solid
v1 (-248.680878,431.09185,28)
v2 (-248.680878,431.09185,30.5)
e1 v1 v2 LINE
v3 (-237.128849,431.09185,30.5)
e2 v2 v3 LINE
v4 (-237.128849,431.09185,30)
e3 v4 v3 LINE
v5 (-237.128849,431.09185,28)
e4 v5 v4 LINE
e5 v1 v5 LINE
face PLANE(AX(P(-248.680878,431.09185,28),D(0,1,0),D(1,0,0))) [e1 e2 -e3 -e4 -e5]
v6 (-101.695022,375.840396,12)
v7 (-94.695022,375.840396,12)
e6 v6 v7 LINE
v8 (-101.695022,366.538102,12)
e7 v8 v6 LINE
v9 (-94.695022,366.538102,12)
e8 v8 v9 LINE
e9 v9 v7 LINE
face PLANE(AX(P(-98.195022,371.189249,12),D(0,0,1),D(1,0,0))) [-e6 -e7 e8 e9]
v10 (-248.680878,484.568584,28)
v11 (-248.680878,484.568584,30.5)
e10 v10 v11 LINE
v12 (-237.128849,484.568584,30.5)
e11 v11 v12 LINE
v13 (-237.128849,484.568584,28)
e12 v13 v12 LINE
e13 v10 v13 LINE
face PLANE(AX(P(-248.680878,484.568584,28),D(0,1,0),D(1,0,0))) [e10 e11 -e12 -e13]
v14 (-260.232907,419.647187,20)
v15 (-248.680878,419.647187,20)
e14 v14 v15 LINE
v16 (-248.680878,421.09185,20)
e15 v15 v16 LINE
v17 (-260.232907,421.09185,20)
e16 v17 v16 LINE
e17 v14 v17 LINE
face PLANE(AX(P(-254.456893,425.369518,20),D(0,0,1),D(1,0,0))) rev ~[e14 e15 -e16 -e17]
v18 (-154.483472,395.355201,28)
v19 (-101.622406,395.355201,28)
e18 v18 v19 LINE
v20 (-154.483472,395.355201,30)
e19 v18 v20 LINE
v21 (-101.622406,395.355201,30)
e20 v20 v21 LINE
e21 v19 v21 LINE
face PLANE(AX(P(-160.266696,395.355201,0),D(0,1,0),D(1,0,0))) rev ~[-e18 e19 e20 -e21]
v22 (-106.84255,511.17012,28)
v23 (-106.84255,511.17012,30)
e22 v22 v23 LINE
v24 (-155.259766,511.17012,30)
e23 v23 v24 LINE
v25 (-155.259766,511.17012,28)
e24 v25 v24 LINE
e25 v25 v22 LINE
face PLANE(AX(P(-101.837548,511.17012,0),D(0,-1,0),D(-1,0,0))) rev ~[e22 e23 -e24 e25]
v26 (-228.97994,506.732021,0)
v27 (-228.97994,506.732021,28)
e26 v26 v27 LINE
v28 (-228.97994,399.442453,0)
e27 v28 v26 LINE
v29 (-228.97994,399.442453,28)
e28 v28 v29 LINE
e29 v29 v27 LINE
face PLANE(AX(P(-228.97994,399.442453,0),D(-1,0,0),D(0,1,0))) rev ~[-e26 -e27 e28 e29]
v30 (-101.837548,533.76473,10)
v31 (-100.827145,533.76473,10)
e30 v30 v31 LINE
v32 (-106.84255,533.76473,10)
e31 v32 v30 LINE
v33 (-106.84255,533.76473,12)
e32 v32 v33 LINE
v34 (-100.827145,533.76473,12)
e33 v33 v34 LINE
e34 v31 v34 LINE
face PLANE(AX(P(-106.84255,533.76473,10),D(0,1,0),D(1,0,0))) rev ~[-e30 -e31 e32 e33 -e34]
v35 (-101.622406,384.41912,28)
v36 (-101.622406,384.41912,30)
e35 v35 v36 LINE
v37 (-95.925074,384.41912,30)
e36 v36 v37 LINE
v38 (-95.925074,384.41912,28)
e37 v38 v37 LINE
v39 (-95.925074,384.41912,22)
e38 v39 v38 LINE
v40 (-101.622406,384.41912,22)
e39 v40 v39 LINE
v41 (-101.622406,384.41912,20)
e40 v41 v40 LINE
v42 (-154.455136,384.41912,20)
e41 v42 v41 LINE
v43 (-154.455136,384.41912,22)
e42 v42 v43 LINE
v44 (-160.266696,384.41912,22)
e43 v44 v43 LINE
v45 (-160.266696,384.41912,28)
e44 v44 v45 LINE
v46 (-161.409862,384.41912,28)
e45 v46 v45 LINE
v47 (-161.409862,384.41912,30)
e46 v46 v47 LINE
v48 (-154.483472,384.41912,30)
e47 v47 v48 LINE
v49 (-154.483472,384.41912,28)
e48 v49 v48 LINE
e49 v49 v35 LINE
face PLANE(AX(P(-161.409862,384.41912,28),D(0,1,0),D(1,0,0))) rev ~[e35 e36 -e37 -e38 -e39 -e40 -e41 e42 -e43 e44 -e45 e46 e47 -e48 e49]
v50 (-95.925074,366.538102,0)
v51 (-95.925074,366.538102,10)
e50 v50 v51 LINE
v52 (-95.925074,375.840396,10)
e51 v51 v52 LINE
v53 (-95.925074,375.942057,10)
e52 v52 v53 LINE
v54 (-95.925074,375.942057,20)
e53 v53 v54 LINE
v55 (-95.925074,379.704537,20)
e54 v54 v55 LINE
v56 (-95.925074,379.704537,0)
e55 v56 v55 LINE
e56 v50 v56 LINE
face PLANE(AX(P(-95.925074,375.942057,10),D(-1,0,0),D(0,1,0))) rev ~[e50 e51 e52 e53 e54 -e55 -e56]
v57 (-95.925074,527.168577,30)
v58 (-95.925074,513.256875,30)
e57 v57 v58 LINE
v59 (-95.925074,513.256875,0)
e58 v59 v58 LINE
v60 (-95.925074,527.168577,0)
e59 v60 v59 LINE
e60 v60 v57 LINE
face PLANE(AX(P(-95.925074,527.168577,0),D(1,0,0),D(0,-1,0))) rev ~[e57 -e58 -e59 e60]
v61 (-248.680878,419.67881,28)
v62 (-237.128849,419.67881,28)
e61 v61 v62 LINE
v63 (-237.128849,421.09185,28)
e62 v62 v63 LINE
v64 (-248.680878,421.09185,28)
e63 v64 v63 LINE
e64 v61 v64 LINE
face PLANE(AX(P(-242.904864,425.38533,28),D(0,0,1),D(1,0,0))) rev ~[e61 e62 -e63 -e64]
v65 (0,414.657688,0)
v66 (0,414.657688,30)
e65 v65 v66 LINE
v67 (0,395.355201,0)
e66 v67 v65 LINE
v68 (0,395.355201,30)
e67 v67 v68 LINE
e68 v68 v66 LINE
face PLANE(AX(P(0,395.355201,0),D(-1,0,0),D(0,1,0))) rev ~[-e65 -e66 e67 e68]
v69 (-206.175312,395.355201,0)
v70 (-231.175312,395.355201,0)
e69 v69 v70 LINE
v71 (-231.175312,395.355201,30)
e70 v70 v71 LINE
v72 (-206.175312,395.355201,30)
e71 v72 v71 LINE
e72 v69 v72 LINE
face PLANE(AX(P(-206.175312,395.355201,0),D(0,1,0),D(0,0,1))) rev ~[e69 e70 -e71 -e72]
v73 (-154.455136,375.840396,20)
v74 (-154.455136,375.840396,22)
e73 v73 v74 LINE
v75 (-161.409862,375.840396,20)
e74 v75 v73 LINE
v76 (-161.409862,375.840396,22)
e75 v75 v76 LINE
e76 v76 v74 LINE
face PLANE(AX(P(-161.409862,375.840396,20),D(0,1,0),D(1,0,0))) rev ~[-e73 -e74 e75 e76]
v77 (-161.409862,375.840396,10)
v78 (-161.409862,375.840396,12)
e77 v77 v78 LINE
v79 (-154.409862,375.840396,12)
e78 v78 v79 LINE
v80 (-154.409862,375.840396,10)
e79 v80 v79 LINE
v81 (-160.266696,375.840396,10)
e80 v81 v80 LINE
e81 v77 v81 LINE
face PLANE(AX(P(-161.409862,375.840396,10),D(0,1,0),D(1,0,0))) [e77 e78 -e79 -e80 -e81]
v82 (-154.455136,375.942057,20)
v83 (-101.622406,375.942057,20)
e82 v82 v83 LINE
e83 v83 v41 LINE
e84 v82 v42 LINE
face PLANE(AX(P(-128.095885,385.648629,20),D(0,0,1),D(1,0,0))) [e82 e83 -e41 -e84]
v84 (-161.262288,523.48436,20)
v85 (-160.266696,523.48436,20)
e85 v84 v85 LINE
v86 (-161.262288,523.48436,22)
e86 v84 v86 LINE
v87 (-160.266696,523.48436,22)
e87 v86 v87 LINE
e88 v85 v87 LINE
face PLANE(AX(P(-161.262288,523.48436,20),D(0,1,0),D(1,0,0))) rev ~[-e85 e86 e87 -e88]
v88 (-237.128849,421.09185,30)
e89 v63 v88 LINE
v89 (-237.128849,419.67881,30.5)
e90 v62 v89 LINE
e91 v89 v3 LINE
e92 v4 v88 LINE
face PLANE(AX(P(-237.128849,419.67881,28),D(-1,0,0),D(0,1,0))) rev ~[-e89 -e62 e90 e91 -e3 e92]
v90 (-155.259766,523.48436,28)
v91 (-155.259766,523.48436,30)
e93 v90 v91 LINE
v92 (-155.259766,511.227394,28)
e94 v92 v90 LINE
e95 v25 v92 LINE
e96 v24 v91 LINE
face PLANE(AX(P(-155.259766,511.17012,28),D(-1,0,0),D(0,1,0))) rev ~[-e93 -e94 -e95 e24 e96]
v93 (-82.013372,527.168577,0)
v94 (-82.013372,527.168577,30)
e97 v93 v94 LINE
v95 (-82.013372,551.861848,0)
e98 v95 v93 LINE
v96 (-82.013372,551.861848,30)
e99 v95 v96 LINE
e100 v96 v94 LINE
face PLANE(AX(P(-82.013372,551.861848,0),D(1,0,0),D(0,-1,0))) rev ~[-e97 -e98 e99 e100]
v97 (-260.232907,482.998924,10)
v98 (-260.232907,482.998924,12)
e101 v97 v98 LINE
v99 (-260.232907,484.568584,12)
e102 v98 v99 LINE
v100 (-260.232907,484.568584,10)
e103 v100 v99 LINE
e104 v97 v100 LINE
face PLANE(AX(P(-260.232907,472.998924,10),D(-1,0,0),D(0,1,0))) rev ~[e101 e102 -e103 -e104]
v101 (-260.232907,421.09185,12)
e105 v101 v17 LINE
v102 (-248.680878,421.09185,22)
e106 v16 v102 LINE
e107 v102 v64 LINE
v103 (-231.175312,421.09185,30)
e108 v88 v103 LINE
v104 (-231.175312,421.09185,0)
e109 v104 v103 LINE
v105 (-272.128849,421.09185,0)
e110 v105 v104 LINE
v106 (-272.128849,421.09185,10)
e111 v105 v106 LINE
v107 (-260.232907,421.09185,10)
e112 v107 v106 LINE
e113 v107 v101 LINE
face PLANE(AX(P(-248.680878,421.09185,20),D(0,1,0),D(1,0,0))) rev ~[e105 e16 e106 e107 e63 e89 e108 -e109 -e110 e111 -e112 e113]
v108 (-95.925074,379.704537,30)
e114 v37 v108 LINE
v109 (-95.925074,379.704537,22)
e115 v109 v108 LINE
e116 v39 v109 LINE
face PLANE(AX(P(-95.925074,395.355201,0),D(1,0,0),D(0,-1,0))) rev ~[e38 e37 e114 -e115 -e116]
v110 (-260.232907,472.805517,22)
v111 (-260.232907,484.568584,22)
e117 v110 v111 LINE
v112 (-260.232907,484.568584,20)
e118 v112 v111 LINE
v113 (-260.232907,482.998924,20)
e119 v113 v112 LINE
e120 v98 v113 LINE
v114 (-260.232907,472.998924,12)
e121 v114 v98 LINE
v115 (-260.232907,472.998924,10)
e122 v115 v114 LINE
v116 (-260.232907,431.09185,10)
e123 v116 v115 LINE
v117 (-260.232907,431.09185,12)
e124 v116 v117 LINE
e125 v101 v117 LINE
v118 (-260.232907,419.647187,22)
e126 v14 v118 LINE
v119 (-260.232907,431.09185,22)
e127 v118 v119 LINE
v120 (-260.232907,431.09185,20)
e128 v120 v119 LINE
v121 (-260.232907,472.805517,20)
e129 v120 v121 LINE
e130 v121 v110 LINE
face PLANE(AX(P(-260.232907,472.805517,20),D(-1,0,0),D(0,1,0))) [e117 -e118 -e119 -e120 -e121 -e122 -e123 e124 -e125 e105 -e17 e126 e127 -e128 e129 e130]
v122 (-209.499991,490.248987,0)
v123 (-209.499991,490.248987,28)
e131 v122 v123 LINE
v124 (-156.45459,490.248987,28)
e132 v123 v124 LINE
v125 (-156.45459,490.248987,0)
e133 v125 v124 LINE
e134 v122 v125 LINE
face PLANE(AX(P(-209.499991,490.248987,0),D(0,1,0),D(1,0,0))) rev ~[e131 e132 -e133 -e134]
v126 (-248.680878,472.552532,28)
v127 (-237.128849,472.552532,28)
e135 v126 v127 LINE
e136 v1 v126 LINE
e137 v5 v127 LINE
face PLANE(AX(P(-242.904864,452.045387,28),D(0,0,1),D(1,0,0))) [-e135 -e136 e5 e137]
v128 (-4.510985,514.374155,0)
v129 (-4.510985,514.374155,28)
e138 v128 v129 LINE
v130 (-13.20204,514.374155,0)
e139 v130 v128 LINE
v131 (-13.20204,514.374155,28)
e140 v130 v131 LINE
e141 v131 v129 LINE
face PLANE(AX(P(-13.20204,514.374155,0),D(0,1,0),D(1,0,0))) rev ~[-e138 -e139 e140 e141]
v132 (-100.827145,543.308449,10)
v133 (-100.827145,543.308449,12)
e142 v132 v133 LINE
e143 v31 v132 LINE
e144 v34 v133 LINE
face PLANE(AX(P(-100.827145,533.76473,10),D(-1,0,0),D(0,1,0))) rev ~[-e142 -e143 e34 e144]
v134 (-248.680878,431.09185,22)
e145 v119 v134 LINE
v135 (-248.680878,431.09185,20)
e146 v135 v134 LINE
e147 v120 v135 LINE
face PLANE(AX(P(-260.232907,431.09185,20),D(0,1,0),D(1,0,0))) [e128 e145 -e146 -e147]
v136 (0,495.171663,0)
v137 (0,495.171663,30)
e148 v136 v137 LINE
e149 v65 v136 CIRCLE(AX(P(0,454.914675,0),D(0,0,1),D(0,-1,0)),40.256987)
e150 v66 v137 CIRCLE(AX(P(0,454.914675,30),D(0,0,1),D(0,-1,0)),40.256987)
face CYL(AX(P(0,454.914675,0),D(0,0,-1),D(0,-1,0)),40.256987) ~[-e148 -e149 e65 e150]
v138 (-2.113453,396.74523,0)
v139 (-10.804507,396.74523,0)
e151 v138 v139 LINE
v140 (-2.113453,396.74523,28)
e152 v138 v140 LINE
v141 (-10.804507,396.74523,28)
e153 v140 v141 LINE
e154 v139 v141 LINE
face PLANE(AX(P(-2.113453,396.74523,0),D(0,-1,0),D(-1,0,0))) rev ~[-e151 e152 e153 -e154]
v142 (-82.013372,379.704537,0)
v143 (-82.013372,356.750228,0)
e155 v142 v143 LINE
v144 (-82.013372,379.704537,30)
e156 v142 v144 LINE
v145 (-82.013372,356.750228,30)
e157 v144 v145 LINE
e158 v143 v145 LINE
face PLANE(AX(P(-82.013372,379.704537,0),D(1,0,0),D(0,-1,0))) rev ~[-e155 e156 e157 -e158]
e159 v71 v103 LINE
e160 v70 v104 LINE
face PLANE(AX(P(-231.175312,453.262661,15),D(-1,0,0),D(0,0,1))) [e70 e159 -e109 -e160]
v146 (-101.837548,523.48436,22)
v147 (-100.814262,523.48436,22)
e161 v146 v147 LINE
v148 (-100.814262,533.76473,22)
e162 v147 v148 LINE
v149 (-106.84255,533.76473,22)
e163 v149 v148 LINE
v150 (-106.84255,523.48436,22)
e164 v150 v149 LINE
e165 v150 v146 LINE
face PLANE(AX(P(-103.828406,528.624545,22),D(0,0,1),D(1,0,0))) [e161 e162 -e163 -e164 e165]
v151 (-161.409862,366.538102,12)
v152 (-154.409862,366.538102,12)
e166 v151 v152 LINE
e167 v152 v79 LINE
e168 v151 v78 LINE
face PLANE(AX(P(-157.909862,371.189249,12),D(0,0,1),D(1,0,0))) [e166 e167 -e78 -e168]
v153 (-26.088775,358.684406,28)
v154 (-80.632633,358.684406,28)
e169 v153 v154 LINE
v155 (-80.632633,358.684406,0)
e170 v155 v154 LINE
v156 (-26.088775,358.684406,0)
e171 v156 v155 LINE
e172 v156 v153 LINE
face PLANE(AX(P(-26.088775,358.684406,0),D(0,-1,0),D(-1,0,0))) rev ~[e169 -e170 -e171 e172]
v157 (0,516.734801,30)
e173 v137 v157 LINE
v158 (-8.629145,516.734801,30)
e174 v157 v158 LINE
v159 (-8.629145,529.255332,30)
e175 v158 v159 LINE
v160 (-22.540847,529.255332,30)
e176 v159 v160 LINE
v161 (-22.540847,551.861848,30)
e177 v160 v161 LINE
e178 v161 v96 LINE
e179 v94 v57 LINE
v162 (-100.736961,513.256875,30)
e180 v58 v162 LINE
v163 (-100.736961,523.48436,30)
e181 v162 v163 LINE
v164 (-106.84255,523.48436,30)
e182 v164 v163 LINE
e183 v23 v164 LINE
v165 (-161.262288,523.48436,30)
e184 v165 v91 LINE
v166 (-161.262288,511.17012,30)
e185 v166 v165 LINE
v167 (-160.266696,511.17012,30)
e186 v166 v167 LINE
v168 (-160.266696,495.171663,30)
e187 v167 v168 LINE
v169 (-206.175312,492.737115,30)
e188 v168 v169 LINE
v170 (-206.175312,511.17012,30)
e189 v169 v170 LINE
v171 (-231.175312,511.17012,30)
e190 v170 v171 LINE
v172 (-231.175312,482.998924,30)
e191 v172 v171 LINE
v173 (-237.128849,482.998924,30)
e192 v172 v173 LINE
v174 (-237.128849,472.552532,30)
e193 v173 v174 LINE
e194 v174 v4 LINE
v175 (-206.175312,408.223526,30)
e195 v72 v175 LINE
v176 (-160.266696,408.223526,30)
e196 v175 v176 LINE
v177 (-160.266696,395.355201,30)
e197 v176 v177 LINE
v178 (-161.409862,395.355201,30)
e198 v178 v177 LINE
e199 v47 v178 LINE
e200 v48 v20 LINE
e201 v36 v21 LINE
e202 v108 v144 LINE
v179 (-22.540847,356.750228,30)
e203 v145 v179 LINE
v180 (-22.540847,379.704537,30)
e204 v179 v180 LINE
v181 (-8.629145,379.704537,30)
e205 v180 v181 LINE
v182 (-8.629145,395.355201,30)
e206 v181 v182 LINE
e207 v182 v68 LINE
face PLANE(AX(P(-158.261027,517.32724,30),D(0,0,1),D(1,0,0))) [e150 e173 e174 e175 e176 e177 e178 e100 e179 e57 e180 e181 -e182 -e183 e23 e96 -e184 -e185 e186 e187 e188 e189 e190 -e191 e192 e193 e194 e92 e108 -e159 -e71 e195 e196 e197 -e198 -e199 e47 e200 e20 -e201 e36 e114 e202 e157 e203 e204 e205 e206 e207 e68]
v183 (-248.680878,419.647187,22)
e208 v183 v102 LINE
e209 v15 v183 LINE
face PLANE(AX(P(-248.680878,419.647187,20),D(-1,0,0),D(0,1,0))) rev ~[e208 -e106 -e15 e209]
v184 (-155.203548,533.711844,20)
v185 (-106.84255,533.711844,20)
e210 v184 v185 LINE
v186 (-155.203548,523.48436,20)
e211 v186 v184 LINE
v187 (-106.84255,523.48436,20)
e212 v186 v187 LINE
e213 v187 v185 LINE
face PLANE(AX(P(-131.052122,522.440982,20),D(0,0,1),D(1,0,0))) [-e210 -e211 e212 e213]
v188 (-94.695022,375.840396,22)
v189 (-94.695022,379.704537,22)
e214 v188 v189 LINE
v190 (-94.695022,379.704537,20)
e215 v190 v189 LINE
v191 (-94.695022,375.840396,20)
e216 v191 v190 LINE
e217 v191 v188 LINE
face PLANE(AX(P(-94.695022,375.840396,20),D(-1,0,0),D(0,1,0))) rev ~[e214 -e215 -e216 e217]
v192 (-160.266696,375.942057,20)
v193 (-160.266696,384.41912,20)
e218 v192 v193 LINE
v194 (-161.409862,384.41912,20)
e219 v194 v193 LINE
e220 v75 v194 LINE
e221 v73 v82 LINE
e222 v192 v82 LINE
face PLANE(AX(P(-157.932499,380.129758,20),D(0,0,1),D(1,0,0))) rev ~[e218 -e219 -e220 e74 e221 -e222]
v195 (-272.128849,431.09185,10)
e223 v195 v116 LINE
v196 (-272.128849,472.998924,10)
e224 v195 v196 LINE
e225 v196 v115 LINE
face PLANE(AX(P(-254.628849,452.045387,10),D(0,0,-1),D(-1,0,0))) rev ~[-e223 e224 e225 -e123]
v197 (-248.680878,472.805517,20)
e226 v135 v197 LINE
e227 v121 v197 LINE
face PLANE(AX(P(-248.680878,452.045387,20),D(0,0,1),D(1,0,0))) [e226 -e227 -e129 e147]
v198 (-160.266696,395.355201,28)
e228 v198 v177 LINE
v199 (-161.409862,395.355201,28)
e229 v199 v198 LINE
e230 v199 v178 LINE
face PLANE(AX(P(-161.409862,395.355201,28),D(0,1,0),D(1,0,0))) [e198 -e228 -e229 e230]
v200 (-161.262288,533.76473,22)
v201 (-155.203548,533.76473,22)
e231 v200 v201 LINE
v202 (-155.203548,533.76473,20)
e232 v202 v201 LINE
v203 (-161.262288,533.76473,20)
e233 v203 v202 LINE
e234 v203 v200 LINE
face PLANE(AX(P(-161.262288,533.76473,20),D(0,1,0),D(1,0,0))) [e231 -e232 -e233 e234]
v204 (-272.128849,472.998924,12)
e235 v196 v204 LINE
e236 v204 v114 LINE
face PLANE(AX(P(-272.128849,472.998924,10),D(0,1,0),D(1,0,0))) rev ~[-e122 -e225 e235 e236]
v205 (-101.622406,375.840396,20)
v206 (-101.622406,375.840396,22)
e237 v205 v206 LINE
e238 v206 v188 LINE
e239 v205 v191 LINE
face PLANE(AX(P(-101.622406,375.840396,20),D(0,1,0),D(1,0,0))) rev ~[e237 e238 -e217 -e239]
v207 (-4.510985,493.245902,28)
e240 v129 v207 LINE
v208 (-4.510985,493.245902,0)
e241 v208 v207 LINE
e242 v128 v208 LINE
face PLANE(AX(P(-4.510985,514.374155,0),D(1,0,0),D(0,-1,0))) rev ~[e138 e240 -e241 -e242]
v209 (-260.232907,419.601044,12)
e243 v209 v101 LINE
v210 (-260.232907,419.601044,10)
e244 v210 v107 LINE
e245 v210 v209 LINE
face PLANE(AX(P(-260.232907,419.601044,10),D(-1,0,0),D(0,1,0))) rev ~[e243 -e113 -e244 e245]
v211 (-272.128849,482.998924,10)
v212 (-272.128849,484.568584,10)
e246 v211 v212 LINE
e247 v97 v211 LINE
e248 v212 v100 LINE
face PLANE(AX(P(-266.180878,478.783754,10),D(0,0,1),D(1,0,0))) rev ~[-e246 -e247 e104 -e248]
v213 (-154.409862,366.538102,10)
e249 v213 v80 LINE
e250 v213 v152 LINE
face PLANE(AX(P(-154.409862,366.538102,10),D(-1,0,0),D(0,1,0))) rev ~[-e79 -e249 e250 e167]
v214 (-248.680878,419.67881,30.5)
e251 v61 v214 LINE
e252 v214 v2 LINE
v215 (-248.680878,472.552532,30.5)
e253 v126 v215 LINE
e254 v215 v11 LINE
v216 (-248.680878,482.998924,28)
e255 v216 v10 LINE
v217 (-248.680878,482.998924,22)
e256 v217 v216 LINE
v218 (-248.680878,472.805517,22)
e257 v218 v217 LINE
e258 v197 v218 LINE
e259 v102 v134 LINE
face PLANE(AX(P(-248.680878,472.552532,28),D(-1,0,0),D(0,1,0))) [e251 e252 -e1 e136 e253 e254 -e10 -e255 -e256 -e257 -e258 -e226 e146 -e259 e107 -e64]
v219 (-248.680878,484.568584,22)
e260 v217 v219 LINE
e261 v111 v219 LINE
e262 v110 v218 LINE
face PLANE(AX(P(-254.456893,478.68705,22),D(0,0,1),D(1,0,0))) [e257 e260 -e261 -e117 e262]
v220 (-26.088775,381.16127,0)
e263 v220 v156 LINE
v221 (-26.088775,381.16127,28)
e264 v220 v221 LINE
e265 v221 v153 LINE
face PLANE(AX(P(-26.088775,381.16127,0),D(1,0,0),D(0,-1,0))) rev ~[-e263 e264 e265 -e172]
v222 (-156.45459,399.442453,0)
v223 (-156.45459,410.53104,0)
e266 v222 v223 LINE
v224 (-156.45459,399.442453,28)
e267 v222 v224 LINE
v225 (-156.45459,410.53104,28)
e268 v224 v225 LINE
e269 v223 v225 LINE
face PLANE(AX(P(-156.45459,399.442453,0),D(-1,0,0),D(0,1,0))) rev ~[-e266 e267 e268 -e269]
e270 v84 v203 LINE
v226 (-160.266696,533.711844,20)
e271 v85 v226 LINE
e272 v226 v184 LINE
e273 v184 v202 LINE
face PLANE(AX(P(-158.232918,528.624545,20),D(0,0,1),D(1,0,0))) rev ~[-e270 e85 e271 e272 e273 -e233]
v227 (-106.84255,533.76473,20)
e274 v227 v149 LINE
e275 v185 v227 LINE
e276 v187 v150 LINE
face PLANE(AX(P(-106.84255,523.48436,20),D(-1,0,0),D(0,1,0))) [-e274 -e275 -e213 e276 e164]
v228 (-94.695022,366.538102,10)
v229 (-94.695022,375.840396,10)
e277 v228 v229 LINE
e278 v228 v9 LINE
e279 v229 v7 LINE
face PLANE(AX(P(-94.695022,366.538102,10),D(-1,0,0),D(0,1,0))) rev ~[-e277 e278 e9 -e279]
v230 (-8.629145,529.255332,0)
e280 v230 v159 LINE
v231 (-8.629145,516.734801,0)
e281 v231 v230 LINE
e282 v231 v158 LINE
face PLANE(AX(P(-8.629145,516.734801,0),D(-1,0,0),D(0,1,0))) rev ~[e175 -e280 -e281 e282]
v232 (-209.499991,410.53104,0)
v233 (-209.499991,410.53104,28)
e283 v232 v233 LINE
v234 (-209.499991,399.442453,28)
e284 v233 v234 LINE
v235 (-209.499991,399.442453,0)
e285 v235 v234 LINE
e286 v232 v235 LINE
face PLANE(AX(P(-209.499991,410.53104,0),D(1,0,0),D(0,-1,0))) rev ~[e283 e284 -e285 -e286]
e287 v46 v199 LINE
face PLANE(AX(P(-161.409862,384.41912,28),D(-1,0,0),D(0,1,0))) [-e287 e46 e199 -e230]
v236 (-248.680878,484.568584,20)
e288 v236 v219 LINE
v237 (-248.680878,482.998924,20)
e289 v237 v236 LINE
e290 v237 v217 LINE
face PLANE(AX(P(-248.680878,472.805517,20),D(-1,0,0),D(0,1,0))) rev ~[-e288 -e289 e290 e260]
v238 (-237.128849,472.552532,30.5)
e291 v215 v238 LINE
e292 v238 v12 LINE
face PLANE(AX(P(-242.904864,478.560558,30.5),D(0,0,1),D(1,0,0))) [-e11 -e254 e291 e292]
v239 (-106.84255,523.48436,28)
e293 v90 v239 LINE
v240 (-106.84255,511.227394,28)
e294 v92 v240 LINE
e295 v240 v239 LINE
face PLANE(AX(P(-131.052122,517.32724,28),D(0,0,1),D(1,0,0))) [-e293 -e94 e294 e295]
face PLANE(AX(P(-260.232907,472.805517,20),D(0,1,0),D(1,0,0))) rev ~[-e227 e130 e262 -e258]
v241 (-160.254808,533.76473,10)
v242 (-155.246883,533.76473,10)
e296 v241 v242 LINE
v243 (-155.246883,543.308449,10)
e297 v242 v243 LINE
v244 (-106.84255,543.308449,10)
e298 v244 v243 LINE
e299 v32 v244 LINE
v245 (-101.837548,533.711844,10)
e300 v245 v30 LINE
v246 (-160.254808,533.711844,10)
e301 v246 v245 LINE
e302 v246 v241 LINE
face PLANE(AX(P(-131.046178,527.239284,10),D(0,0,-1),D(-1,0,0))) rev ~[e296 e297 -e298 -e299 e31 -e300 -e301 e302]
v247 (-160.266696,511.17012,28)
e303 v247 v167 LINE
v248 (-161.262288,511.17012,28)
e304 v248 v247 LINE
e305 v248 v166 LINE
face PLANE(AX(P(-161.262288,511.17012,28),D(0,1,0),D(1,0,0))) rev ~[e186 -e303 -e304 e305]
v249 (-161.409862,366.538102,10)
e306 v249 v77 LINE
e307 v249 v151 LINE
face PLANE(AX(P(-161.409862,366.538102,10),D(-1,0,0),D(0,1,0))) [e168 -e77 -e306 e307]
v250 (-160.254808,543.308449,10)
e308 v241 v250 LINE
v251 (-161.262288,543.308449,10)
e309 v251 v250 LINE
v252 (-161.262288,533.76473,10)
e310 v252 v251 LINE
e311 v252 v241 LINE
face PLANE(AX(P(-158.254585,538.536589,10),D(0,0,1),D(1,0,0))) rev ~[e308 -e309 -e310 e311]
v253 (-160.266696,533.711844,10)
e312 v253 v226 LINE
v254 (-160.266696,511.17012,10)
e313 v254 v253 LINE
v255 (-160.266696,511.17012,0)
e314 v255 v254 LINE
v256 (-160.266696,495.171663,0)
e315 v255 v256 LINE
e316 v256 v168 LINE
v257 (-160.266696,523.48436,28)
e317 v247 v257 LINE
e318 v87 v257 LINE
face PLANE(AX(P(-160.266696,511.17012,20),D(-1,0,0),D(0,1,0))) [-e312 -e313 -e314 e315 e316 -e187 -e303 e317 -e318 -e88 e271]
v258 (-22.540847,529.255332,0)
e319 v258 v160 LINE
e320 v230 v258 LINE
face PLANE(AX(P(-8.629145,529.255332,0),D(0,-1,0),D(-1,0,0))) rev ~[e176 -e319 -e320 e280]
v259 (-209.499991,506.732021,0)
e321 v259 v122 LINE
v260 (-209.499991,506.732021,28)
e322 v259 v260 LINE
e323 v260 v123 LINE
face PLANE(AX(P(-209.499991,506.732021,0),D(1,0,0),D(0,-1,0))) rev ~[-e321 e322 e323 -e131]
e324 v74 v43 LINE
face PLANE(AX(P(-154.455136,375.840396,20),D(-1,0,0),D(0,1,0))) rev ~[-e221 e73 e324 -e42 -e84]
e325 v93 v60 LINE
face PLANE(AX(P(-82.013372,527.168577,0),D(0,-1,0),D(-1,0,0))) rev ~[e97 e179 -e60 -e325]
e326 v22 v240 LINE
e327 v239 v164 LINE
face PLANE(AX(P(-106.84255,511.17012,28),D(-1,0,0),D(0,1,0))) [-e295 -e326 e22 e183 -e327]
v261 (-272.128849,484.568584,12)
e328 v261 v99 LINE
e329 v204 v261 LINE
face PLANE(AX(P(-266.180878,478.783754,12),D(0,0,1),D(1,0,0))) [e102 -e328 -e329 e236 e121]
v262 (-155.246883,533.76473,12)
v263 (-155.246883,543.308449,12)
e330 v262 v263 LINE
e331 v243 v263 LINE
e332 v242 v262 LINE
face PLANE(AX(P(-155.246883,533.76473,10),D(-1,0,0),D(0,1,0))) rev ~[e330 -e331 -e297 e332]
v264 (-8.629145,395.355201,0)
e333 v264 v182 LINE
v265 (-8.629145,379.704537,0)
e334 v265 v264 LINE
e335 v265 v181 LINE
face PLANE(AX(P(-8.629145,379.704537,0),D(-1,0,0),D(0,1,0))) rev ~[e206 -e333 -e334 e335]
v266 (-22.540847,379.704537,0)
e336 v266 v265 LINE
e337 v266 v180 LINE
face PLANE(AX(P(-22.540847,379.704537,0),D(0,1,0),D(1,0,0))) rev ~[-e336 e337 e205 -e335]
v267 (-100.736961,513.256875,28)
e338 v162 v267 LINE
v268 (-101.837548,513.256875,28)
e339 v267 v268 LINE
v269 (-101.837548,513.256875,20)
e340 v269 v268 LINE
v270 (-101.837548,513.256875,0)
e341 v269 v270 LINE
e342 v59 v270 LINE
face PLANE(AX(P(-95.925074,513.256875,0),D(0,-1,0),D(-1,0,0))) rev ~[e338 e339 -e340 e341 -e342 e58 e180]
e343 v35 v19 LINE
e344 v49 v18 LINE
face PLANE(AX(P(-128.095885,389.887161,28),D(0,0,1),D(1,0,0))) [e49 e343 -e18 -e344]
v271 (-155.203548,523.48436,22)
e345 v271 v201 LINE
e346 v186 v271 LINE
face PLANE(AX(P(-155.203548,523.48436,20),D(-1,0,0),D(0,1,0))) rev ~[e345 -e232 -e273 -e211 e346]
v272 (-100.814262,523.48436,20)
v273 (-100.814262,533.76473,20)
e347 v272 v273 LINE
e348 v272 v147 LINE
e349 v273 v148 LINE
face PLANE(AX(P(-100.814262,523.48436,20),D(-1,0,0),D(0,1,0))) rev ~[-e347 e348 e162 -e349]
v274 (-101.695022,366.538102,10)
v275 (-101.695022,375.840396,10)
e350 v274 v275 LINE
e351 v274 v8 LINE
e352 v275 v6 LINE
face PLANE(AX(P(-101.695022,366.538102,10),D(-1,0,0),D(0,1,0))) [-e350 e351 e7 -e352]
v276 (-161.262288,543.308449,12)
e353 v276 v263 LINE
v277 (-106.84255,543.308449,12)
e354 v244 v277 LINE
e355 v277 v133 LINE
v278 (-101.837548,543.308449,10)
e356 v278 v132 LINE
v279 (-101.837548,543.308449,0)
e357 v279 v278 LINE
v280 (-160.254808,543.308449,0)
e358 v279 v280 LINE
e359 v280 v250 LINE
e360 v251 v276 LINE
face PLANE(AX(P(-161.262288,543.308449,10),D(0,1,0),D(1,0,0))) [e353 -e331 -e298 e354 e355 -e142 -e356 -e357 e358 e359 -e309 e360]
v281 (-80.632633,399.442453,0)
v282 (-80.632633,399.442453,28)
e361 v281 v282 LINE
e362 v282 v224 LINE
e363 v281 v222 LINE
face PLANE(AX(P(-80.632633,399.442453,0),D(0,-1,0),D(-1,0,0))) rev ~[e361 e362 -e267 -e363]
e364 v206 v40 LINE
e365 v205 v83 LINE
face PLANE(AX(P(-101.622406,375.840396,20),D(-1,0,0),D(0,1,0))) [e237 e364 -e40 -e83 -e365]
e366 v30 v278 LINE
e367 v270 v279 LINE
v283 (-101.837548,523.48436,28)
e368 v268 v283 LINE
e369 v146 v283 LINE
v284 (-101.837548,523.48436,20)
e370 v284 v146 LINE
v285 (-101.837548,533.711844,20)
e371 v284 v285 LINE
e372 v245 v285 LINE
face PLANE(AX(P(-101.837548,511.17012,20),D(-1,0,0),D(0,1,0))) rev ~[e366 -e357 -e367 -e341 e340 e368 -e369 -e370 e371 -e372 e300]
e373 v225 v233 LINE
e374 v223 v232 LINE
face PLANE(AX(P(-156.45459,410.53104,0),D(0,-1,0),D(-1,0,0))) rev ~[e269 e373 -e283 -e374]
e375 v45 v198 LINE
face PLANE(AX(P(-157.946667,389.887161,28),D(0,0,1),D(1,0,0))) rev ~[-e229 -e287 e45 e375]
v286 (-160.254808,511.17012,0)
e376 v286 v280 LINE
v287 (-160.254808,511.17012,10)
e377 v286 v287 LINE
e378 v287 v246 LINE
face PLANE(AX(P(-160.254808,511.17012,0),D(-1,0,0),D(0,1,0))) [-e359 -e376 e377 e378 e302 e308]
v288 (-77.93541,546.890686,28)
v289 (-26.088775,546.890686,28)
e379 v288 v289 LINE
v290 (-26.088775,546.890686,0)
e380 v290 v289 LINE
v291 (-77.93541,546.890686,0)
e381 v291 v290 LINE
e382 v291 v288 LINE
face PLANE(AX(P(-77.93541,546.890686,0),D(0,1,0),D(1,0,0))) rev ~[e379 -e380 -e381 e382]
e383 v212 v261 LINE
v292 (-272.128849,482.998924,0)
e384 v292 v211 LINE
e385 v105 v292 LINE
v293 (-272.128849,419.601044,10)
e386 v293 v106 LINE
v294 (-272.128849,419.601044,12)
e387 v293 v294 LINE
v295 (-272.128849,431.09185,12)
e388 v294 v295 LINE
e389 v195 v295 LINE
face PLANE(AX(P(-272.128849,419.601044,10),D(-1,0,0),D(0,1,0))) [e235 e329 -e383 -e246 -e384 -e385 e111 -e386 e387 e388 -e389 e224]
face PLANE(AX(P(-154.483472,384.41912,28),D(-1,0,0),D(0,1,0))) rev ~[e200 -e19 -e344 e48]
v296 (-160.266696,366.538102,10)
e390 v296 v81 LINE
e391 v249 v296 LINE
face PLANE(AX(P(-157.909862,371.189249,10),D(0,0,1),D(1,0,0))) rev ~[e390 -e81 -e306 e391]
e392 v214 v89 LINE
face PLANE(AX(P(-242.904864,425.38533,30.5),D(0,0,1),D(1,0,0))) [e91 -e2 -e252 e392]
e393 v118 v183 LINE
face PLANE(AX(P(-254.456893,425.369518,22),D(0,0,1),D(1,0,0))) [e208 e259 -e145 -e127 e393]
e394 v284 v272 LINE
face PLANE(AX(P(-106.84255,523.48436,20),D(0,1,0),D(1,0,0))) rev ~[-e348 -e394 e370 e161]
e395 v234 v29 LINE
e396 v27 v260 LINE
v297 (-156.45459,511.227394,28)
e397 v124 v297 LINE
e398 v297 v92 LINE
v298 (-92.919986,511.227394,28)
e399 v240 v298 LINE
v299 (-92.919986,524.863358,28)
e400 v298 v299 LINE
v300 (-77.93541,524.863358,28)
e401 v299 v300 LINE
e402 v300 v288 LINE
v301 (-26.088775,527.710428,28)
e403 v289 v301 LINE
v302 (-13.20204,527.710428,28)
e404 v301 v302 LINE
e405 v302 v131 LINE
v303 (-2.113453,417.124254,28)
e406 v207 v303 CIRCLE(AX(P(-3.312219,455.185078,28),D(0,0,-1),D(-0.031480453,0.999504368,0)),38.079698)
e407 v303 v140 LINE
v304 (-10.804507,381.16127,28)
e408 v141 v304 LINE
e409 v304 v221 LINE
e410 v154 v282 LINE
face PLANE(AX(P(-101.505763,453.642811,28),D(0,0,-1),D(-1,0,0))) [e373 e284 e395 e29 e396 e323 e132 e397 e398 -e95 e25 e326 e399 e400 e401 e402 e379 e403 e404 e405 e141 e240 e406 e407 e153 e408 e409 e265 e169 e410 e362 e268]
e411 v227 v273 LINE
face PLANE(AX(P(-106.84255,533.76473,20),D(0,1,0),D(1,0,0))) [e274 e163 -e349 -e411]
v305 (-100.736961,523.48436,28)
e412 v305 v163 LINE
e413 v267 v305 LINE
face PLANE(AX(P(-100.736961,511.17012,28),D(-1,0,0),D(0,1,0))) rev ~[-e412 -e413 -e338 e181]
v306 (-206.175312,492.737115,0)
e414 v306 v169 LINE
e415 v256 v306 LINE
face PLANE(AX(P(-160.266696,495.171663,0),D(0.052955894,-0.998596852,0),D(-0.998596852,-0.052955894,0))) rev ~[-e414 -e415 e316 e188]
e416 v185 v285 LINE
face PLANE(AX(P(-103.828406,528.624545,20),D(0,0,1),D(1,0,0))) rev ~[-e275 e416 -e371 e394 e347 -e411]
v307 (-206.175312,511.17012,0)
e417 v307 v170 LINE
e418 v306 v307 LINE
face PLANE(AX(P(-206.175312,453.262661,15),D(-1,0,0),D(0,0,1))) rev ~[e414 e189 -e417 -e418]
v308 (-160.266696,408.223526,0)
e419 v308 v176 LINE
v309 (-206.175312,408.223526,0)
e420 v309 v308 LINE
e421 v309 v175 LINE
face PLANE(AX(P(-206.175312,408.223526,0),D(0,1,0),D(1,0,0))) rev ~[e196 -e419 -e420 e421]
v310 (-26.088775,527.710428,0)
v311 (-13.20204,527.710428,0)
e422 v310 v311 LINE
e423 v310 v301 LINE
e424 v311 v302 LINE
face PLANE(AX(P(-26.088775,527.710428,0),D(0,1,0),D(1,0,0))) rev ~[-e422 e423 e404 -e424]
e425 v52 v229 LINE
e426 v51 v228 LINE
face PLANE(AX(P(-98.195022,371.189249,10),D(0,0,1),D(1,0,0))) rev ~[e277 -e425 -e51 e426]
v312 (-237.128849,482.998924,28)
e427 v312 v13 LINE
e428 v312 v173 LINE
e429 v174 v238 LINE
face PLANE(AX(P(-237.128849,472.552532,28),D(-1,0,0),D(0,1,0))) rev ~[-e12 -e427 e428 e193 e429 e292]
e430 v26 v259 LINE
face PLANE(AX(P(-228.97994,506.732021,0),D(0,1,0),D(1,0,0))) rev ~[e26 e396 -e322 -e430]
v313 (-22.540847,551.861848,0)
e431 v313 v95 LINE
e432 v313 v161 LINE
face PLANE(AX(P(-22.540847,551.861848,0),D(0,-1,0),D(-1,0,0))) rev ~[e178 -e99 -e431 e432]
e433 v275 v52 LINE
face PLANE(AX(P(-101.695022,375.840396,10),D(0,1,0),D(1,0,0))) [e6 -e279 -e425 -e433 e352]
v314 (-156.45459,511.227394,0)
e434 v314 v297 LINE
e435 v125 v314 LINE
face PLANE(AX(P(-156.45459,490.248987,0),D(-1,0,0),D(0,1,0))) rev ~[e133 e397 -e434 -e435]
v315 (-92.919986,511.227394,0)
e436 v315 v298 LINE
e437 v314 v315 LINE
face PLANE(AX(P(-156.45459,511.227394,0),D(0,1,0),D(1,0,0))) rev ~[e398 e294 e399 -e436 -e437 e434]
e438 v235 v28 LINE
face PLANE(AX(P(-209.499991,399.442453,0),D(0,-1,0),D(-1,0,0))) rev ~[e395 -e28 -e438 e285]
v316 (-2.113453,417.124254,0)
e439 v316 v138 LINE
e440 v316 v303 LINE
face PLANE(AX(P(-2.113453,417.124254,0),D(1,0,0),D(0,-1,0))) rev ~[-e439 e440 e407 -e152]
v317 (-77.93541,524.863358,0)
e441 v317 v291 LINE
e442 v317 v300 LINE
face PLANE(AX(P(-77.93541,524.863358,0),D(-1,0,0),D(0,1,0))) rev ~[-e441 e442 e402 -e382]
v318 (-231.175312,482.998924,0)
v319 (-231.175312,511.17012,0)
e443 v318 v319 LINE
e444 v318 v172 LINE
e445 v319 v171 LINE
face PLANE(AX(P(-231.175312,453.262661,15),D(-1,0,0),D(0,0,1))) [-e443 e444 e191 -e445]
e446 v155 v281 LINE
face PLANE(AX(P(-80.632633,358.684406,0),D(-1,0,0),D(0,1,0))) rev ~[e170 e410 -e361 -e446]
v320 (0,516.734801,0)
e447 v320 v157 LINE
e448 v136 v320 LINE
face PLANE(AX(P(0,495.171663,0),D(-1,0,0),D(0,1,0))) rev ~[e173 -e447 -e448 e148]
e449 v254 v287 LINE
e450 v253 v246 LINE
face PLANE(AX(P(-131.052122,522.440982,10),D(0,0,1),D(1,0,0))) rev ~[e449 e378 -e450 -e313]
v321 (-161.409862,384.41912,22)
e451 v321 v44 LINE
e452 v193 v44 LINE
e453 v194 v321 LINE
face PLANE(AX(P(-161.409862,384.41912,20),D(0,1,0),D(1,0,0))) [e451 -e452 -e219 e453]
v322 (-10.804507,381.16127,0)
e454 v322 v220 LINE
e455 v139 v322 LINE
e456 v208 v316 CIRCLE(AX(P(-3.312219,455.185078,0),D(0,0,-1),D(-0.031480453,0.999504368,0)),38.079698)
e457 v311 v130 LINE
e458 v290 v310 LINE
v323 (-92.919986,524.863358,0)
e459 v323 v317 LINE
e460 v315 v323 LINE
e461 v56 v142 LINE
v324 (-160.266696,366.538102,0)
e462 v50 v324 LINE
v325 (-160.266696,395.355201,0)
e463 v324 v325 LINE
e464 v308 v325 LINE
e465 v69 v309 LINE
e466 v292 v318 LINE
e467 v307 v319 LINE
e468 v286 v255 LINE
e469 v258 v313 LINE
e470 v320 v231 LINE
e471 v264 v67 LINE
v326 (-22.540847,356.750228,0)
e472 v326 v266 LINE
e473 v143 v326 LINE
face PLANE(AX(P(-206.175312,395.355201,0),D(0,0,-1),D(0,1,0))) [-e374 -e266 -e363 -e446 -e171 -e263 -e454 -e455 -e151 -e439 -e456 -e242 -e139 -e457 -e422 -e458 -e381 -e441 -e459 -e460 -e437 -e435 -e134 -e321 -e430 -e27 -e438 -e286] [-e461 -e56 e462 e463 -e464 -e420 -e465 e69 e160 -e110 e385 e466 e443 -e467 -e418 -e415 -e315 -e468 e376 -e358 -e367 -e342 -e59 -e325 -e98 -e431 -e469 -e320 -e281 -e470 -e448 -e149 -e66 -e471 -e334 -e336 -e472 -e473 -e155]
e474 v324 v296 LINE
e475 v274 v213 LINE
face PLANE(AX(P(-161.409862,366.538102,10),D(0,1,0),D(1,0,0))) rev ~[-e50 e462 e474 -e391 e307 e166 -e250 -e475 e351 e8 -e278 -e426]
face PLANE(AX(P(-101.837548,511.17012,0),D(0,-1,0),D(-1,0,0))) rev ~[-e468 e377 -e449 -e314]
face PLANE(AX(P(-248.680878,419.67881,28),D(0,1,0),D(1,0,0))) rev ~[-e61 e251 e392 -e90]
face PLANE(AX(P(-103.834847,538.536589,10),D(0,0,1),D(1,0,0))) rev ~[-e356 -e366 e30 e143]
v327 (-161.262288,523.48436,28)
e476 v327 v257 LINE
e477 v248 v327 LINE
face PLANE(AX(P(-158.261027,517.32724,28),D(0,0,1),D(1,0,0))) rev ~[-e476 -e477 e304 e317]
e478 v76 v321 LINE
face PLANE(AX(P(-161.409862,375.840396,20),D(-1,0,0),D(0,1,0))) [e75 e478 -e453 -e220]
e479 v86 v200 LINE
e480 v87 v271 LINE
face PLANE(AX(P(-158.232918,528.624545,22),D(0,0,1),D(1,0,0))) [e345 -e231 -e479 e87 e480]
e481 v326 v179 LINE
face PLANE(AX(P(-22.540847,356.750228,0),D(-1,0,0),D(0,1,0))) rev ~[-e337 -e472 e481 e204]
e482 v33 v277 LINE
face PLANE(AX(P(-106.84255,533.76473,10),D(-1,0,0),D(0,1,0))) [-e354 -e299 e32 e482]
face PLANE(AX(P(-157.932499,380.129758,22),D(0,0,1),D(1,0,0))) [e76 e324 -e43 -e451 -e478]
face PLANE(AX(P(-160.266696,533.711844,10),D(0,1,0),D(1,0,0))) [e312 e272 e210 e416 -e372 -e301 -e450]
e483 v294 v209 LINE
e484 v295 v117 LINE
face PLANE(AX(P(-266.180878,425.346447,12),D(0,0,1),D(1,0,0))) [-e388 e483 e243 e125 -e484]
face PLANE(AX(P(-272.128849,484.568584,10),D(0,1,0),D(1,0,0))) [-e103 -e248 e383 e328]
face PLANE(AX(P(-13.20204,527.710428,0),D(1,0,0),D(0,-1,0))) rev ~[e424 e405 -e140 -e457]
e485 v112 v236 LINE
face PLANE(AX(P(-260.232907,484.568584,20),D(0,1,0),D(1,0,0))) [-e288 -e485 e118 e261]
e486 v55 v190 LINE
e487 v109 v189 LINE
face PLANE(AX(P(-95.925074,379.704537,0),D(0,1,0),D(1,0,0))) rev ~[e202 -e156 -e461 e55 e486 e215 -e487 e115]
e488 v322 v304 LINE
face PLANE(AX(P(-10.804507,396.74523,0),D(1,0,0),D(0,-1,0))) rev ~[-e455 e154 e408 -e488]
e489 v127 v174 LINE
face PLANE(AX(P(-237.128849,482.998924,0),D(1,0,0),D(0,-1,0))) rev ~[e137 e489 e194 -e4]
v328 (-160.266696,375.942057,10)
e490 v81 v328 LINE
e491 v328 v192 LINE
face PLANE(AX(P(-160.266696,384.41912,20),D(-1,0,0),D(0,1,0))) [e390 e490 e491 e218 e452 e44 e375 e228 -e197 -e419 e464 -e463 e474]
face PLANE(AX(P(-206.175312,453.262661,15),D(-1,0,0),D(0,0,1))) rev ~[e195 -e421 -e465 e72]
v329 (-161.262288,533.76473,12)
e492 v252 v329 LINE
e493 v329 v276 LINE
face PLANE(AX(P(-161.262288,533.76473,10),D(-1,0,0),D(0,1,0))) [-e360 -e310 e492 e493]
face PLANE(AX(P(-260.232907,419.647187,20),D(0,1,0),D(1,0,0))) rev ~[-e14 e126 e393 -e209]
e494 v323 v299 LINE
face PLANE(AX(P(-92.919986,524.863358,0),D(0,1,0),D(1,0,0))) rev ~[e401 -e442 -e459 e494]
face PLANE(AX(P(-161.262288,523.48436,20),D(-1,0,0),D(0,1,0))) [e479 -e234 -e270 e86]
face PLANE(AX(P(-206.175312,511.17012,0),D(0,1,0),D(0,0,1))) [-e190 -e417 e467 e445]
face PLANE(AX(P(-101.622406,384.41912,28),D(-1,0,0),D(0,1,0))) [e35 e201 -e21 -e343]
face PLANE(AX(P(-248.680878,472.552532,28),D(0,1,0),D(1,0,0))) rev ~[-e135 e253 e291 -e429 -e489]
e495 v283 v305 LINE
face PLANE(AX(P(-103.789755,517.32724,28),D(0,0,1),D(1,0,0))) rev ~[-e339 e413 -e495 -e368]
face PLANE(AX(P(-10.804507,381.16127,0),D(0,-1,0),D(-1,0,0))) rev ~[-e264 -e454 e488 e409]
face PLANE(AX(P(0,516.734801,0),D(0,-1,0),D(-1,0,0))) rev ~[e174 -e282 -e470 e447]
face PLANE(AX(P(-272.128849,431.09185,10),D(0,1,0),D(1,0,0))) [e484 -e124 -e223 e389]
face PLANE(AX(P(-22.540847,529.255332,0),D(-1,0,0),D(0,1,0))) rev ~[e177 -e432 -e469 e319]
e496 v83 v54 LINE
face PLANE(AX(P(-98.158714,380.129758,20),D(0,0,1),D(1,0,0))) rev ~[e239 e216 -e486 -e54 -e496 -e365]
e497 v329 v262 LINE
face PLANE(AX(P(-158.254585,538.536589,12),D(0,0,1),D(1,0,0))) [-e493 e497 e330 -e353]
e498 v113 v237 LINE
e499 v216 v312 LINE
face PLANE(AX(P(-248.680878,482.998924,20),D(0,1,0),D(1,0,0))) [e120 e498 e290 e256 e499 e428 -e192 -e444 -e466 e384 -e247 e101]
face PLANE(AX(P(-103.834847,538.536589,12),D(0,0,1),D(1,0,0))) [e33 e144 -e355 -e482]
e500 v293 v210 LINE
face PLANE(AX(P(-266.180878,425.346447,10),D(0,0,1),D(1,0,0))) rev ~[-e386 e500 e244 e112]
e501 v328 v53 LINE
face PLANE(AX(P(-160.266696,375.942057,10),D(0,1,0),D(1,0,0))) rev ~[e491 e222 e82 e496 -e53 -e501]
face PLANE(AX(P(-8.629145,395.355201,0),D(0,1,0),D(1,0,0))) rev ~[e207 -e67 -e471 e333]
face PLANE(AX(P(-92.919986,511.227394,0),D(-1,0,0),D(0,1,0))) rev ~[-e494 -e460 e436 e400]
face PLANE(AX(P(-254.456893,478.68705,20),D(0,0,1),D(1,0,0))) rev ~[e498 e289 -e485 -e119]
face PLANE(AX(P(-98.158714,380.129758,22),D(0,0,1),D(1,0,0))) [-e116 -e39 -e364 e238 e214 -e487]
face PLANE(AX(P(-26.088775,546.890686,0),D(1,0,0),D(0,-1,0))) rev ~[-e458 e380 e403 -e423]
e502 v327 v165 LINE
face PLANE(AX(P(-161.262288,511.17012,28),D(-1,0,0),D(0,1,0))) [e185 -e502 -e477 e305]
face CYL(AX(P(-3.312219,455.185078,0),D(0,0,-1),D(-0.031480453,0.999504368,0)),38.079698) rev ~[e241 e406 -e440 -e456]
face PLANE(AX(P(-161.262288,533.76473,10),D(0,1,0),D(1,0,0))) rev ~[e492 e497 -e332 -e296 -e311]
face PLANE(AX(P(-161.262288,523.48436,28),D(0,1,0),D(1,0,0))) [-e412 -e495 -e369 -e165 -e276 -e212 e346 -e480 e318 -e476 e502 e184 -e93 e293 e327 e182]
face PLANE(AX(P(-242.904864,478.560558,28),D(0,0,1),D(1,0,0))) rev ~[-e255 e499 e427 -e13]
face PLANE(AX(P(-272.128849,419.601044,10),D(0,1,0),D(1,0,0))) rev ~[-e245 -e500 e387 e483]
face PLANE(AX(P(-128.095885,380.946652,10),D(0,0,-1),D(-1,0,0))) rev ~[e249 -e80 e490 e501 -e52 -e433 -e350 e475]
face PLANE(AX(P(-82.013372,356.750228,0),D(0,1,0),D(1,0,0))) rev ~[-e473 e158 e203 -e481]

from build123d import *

# Parameters (mm, degrees)
BOSS_EXTRUDE1_DEPTH  = 30
SKETCH4_W            = 35
SKETCH4_H            = 61.907073604
BOSS_EXTRUDE2_DEPTH  = 10
SKETCH5_W            = 23.104058428
SKETCH5_H            = 61.907073604
BOSS_EXTRUDE3_DEPTH  = 10
SKETCH6_W            = 11.552029214
SKETCH6_H            = 61.907073604
BOSS_EXTRUDE5_DEPTH  = 8
SKETCH8_W            = 11.895941572
SKETCH8_H            = 11.490805908
SKETCH8_H_2          = 11.569660377
BOSS_EXTRUDE6_DEPTH  = 2
SKETCH9_W            = 11.552029214
SKETCH9_H            = 11.763067294
SKETCH9_H_2          = 11.444663326
BOSS_EXTRUDE7_DEPTH  = 2
SKETCH10_W           = 11.552029214
SKETCH10_H           = 12.016051613
SKETCH10_H_2         = 11.413040286
BOSS_EXTRUDE8_DEPTH  = 2.5
SKETCH11_W           = 64.341621443
SKETCH11_H           = 28.817099519
BOSS_EXTRUDE9_DEPTH  = 10
SKETCH12_W           = 64.341621443
SKETCH12_H           = 19.413143898
BOSS_EXTRUDE10_DEPTH = 10
SKETCH13_W           = 64.341621443
SKETCH13_H           = 10.936081157
BOSS_EXTRUDE11_DEPTH = 8
SKETCH14_W           = 7
SKETCH14_H           = 9.302294552
BOSS_EXTRUDE12_DEPTH = 2
SKETCH15_W           = 6.954726323
SKETCH15_H           = 8.57872381
SKETCH15_W_2         = 6.927384131
BOSS_EXTRUDE13_DEPTH = 2
SKETCH16_W           = 6.926390046
SKETCH16_H           = 10.936081157
SKETCH16_W_2         = 6.728901939
BOSS_EXTRUDE14_DEPTH = 2
SKETCH17_W           = 58.417259869
SKETCH17_H           = 32.138328606
BOSS_EXTRUDE15_DEPTH = 10
SKETCH18_W           = 58.429148121
SKETCH18_H           = 22.541723998
BOSS_EXTRUDE16_DEPTH = 10
SKETCH19_W           = 58.429148121
SKETCH19_H           = 12.314239644
BOSS_EXTRUDE17_DEPTH = 8
SKETCH20_W           = 30
SKETCH20_H           = 115.814918598
BOSS_EXTRUDE18_DEPTH = 25
SKETCH21_W           = 6.015404917
SKETCH21_H           = 9.543718354
SKETCH21_W_2         = 6.015404916
BOSS_EXTRUDE19_DEPTH = 2
SKETCH22_W           = 6.058740194
SKETCH22_H           = 10.280370608
SKETCH22_W_2         = 6.028288377
BOSS_EXTRUDE20_DEPTH = 2
SKETCH23_W           = 6.002521456
SKETCH23_H           = 12.314239644
SKETCH23_W_2         = 6.105589141
BOSS_EXTRUDE21_DEPTH = 2
CUT_EXTRUDE2_DEPTH   = 28


with BuildPart() as part:
    # Sketch1 → Boss-Extrude1 (new body)
    with BuildSketch(Plane.XY):
        with BuildLine():
            Line((-237.128848942, 435.351344416), (-237.128848942, 421.091849934))
            Line((-237.128848942, 421.091849934), (-206.17531214, 421.091849934))
            Line((-206.17531214, 421.091849934), (-206.17531214, 408.223525645))
            Line((-206.17531214, 408.223525645), (-160.266695759, 408.223525645))
            Line((-160.266695759, 408.223525645), (-160.266695759, 395.355201356))
            Line((-160.266695759, 395.355201356), (-131.052121698, 395.355201356))
            Line((-131.052121698, 395.355201356), (-101.837547638, 395.355201356))
            Line((-101.837547638, 395.355201356), (-95.925074316, 395.355201356))
            Line((-95.925074316, 395.355201356), (-95.925074316, 379.704536681))
            Line((-95.925074316, 379.704536681), (-82.013372382, 379.704536681))
            Line((-82.013372382, 379.704536681), (-82.013372382, 356.75022849))
            Line((-82.013372382, 356.75022849), (-22.540846616, 356.75022849))
            Line((-22.540846616, 356.75022849), (-22.540846616, 379.704536681))
            Line((-22.540846616, 379.704536681), (-8.629144682, 379.704536681))
            Line((-8.629144682, 379.704536681), (-8.629144682, 395.355201356))
            Line((-8.629144682, 395.355201356), (0, 395.355201356))
            Line((0, 395.355201356), (0, 414.657687789))
            ThreePointArc((0, 414.657687789), (40.25698747, 454.91467526), (0, 495.17166273))
            Line((0, 495.17166273), (0, 516.734800727))
            Line((0, 516.734800727), (-8.629144682, 516.734800727))
            Line((-8.629144682, 516.734800727), (-8.629144682, 529.255332468))
            Line((-8.629144682, 529.255332468), (-22.540846616, 529.255332468))
            Line((-22.540846616, 529.255332468), (-22.540846616, 551.86184811))
            Line((-22.540846616, 551.86184811), (-82.013372382, 551.86184811))
            Line((-82.013372382, 551.86184811), (-82.013372382, 527.168577178))
            Line((-82.013372382, 527.168577178), (-95.925074316, 527.168577178))
            Line((-95.925074316, 527.168577178), (-95.925074316, 513.256875244))
            Line((-95.925074316, 513.256875244), (-101.837547638, 513.256875244))
            Line((-101.837547638, 513.256875244), (-101.837547638, 511.170119954))
            Line((-101.837547638, 511.170119954), (-131.052121698, 511.170119954))
            Line((-131.052121698, 511.170119954), (-160.266695759, 511.170119954))
            Line((-160.266695759, 511.170119954), (-160.266695759, 495.17166273))
            Line((-160.266695759, 495.17166273), (-206.17531214, 492.737114892))
            Line((-206.17531214, 492.737114892), (-206.17531214, 482.998923538))
            Line((-206.17531214, 482.998923538), (-237.128848942, 482.998923538))
            Line((-237.128848942, 482.998923538), (-237.128848942, 464.565918476))
            Line((-237.128848942, 464.565918476), (-237.128848942, 454.132142026))
            Line((-237.128848942, 454.132142026), (-237.128848942, 435.351344416))
        make_face()
    extrude(amount=BOSS_EXTRUDE1_DEPTH)

    # Sketch4 → Boss-Extrude2 (add)
    with BuildSketch(Plane(origin=(0, 0, 0), x_dir=(-1, 0, 0), z_dir=(0, 0, -1))):
        with Locations((254.628848942, 452.045386736)):
            Rectangle(SKETCH4_W, SKETCH4_H)
    extrude(amount=-BOSS_EXTRUDE2_DEPTH)

    # Sketch5 → Boss-Extrude3 (add)
    with BuildSketch(Plane.XY.offset(10)):
        with Locations((-248.680878156, 452.045386736)):
            Rectangle(SKETCH5_W, SKETCH5_H)
    extrude(amount=BOSS_EXTRUDE3_DEPTH)

    # Sketch6 → Boss-Extrude5 (add)
    with BuildSketch(Plane.XY.offset(20)):
        with Locations((-242.904863549, 452.045386736)):
            Rectangle(SKETCH6_W, SKETCH6_H)
    extrude(amount=BOSS_EXTRUDE5_DEPTH)

    # Sketch8 → Boss-Extrude6 (add)
    with BuildSketch(Plane.XY.offset(10)):
        with Locations((-266.180878156, 425.34644698)):
            Rectangle(SKETCH8_W, SKETCH8_H)
        with Locations((-266.180878156, 478.783753727)):
            Rectangle(SKETCH8_W, SKETCH8_H_2)
    extrude(amount=BOSS_EXTRUDE6_DEPTH)

    # Sketch9 → Boss-Extrude7 (add)
    with BuildSketch(Plane.XY.offset(20)):
        with Locations((-254.456892763, 478.687050268)):
            Rectangle(SKETCH9_W, SKETCH9_H)
        with Locations((-254.456892763, 425.369518271)):
            Rectangle(SKETCH9_W, SKETCH9_H_2)
    extrude(amount=BOSS_EXTRUDE7_DEPTH)

    # Sketch10 → Boss-Extrude8 (add)
    with BuildSketch(Plane.XY.offset(28)):
        with Locations((-242.904863549, 478.560558109)):
            Rectangle(SKETCH10_W, SKETCH10_H)
        with Locations((-242.904863549, 425.385329791)):
            Rectangle(SKETCH10_W, SKETCH10_H_2)
    extrude(amount=BOSS_EXTRUDE8_DEPTH)

    # Sketch11 → Boss-Extrude9 (add)
    with BuildSketch(Plane(origin=(0, 0, 0), x_dir=(-1, 0, 0), z_dir=(0, 0, -1))):
        with Locations((128.095885038, 380.946651597)):
            Rectangle(SKETCH11_W, SKETCH11_H)
    extrude(amount=-BOSS_EXTRUDE9_DEPTH)

    # Sketch12 → Boss-Extrude10 (add)
    with BuildSketch(Plane.XY.offset(10)):
        with Locations((-128.095885038, 385.648629407)):
            Rectangle(SKETCH12_W, SKETCH12_H)
    extrude(amount=BOSS_EXTRUDE10_DEPTH)

    # Sketch13 → Boss-Extrude11 (add)
    with BuildSketch(Plane.XY.offset(20)):
        with Locations((-128.095885038, 389.887160778)):
            Rectangle(SKETCH13_W, SKETCH13_H)
    extrude(amount=BOSS_EXTRUDE11_DEPTH)

    # Sketch14 → Boss-Extrude12 (add)
    with BuildSketch(Plane.XY.offset(10)):
        with Locations((-157.909862062, 371.189249113)):
            Rectangle(SKETCH14_W, SKETCH14_H)
        with Locations((-98.195021783, 371.189249113)):
            Rectangle(SKETCH14_W, SKETCH14_H)
    extrude(amount=BOSS_EXTRUDE12_DEPTH)

    # Sketch15 → Boss-Extrude13 (add)
    with BuildSketch(Plane.XY.offset(20)):
        with Locations((-157.932498901, 380.129758294)):
            Rectangle(SKETCH15_W, SKETCH15_H)
        with Locations((-98.158713849, 380.129758294)):
            Rectangle(SKETCH15_W_2, SKETCH15_H)
    extrude(amount=BOSS_EXTRUDE13_DEPTH)

    # Sketch16 → Boss-Extrude14 (add)
    with BuildSketch(Plane.XY.offset(28)):
        with Locations((-157.946667039, 389.887160778)):
            Rectangle(SKETCH16_W, SKETCH16_H)
        with Locations((-98.257954944, 389.887160778)):
            Rectangle(SKETCH16_W_2, SKETCH16_H)
    extrude(amount=BOSS_EXTRUDE14_DEPTH)

    # Sketch17 → Boss-Extrude15 (add)
    with BuildSketch(Plane(origin=(0, 0, 0), x_dir=(-1, 0, 0), z_dir=(0, 0, -1))):
        with Locations((131.046177572, 527.239284257)):
            Rectangle(SKETCH17_W, SKETCH17_H)
    extrude(amount=-BOSS_EXTRUDE15_DEPTH)

    # Sketch18 → Boss-Extrude16 (add)
    with BuildSketch(Plane.XY.offset(10)):
        with Locations((-131.052121699, 522.440981953)):
            Rectangle(SKETCH18_W, SKETCH18_H)
    extrude(amount=BOSS_EXTRUDE16_DEPTH)

    # Sketch19 → Boss-Extrude17 (add)
    with BuildSketch(Plane.XY.offset(20)):
        with Locations((-131.052121699, 517.327239776)):
            Rectangle(SKETCH19_W, SKETCH19_H)
    extrude(amount=BOSS_EXTRUDE17_DEPTH)

    # Sketch20 → Boss-Extrude18 (add)
    with BuildSketch(Plane.ZY.offset(206.17531214)):
        with Locations((15, 453.262660655)):
            Rectangle(SKETCH20_W, SKETCH20_H)
    extrude(amount=BOSS_EXTRUDE18_DEPTH)

    # Sketch21 → Boss-Extrude19 (add)
    with BuildSketch(Plane.XY.offset(10)):
        with Locations((-158.254585418, 538.536589383)):
            Rectangle(SKETCH21_W, SKETCH21_H)
        with Locations((-103.834847481, 538.536589383)):
            Rectangle(SKETCH21_W_2, SKETCH21_H)
    extrude(amount=BOSS_EXTRUDE19_DEPTH)

    # Sketch22 → Boss-Extrude20 (add)
    with BuildSketch(Plane.XY.offset(20)):
        with Locations((-158.232917779, 528.624544902)):
            Rectangle(SKETCH22_W, SKETCH22_H)
        with Locations((-103.828405751, 528.624544902)):
            Rectangle(SKETCH22_W_2, SKETCH22_H)
    extrude(amount=BOSS_EXTRUDE20_DEPTH)

    # Sketch23 → Boss-Extrude21 (add)
    with BuildSketch(Plane.XY.offset(28)):
        with Locations((-158.261027148, 517.327239776)):
            Rectangle(SKETCH23_W, SKETCH23_H)
        with Locations((-103.789755369, 517.327239776)):
            Rectangle(SKETCH23_W_2, SKETCH23_H)
    extrude(amount=BOSS_EXTRUDE21_DEPTH)

    # Sketch24 → Cut-Extrude2 (cut)
    with BuildSketch(Plane(origin=(0, 0, 0), x_dir=(-1, 0, 0), z_dir=(0, 0, -1))):
        with BuildLine():
            Line((228.979940095, 479.759783132), (228.979940095, 506.732020696))
            Line((228.979940095, 506.732020696), (209.499990744, 506.732020696))
            Line((209.499990744, 506.732020696), (209.499990744, 490.248986629))
            Line((209.499990744, 490.248986629), (156.454590203, 490.248986629))
            Line((156.454590203, 490.248986629), (156.454590203, 511.227393623))
            Line((156.454590203, 511.227393623), (107.005488005, 511.227393623))
            Line((107.005488005, 511.227393623), (92.919986166, 511.227393623))
            Line((92.919986166, 511.227393623), (92.919986166, 524.863358168))
            Line((92.919986166, 524.863358168), (77.935409742, 524.863358168))
            Line((77.935409742, 524.863358168), (77.935409742, 546.890685512))
            Line((77.935409742, 546.890685512), (26.088775316, 546.890685512))
            Line((26.088775316, 546.890685512), (26.088775316, 527.710427689))
            Line((26.088775316, 527.710427689), (13.202039591, 527.710427689))
            Line((13.202039591, 527.710427689), (13.202039591, 514.374154672))
            Line((13.202039591, 514.374154672), (4.510985265, 514.374154672))
            Line((4.510985265, 514.374154672), (4.510985265, 493.245901914))
            ThreePointArc((4.510985265, 493.245901914), (-34.748604966, 456.383843911), (2.113453037, 417.124253681))
            Line((2.113453037, 417.124253681), (2.113453037, 396.745229744))
            Line((2.113453037, 396.745229744), (10.804507363, 396.745229744))
            Line((10.804507363, 396.745229744), (10.804507363, 381.161270263))
            Line((10.804507363, 381.161270263), (26.088775316, 381.161270263))
            Line((26.088775316, 381.161270263), (26.088775316, 358.684405627))
            Line((26.088775316, 358.684405627), (80.632633499, 358.684405627))
            Line((80.632633499, 358.684405627), (80.632633499, 381.161270263))
            Line((80.632633499, 381.161270263), (80.632633499, 390.751399175))
            Line((80.632633499, 390.751399175), (80.632633499, 399.4424535))
            Line((80.632633499, 399.4424535), (156.454590203, 399.4424535))
            Line((156.454590203, 399.4424535), (156.454590203, 410.531040054))
            Line((156.454590203, 410.531040054), (209.499990744, 410.531040054))
            Line((209.499990744, 410.531040054), (209.499990744, 399.4424535))
            Line((209.499990744, 399.4424535), (228.979940095, 399.4424535))
            Line((228.979940095, 399.4424535), (228.979940095, 424.017158836))
            Line((228.979940095, 424.017158836), (228.979940095, 479.759783132))
        make_face()
    extrude(amount=-CUT_EXTRUDE2_DEPTH, mode=Mode.SUBTRACT)


solid = part.part
